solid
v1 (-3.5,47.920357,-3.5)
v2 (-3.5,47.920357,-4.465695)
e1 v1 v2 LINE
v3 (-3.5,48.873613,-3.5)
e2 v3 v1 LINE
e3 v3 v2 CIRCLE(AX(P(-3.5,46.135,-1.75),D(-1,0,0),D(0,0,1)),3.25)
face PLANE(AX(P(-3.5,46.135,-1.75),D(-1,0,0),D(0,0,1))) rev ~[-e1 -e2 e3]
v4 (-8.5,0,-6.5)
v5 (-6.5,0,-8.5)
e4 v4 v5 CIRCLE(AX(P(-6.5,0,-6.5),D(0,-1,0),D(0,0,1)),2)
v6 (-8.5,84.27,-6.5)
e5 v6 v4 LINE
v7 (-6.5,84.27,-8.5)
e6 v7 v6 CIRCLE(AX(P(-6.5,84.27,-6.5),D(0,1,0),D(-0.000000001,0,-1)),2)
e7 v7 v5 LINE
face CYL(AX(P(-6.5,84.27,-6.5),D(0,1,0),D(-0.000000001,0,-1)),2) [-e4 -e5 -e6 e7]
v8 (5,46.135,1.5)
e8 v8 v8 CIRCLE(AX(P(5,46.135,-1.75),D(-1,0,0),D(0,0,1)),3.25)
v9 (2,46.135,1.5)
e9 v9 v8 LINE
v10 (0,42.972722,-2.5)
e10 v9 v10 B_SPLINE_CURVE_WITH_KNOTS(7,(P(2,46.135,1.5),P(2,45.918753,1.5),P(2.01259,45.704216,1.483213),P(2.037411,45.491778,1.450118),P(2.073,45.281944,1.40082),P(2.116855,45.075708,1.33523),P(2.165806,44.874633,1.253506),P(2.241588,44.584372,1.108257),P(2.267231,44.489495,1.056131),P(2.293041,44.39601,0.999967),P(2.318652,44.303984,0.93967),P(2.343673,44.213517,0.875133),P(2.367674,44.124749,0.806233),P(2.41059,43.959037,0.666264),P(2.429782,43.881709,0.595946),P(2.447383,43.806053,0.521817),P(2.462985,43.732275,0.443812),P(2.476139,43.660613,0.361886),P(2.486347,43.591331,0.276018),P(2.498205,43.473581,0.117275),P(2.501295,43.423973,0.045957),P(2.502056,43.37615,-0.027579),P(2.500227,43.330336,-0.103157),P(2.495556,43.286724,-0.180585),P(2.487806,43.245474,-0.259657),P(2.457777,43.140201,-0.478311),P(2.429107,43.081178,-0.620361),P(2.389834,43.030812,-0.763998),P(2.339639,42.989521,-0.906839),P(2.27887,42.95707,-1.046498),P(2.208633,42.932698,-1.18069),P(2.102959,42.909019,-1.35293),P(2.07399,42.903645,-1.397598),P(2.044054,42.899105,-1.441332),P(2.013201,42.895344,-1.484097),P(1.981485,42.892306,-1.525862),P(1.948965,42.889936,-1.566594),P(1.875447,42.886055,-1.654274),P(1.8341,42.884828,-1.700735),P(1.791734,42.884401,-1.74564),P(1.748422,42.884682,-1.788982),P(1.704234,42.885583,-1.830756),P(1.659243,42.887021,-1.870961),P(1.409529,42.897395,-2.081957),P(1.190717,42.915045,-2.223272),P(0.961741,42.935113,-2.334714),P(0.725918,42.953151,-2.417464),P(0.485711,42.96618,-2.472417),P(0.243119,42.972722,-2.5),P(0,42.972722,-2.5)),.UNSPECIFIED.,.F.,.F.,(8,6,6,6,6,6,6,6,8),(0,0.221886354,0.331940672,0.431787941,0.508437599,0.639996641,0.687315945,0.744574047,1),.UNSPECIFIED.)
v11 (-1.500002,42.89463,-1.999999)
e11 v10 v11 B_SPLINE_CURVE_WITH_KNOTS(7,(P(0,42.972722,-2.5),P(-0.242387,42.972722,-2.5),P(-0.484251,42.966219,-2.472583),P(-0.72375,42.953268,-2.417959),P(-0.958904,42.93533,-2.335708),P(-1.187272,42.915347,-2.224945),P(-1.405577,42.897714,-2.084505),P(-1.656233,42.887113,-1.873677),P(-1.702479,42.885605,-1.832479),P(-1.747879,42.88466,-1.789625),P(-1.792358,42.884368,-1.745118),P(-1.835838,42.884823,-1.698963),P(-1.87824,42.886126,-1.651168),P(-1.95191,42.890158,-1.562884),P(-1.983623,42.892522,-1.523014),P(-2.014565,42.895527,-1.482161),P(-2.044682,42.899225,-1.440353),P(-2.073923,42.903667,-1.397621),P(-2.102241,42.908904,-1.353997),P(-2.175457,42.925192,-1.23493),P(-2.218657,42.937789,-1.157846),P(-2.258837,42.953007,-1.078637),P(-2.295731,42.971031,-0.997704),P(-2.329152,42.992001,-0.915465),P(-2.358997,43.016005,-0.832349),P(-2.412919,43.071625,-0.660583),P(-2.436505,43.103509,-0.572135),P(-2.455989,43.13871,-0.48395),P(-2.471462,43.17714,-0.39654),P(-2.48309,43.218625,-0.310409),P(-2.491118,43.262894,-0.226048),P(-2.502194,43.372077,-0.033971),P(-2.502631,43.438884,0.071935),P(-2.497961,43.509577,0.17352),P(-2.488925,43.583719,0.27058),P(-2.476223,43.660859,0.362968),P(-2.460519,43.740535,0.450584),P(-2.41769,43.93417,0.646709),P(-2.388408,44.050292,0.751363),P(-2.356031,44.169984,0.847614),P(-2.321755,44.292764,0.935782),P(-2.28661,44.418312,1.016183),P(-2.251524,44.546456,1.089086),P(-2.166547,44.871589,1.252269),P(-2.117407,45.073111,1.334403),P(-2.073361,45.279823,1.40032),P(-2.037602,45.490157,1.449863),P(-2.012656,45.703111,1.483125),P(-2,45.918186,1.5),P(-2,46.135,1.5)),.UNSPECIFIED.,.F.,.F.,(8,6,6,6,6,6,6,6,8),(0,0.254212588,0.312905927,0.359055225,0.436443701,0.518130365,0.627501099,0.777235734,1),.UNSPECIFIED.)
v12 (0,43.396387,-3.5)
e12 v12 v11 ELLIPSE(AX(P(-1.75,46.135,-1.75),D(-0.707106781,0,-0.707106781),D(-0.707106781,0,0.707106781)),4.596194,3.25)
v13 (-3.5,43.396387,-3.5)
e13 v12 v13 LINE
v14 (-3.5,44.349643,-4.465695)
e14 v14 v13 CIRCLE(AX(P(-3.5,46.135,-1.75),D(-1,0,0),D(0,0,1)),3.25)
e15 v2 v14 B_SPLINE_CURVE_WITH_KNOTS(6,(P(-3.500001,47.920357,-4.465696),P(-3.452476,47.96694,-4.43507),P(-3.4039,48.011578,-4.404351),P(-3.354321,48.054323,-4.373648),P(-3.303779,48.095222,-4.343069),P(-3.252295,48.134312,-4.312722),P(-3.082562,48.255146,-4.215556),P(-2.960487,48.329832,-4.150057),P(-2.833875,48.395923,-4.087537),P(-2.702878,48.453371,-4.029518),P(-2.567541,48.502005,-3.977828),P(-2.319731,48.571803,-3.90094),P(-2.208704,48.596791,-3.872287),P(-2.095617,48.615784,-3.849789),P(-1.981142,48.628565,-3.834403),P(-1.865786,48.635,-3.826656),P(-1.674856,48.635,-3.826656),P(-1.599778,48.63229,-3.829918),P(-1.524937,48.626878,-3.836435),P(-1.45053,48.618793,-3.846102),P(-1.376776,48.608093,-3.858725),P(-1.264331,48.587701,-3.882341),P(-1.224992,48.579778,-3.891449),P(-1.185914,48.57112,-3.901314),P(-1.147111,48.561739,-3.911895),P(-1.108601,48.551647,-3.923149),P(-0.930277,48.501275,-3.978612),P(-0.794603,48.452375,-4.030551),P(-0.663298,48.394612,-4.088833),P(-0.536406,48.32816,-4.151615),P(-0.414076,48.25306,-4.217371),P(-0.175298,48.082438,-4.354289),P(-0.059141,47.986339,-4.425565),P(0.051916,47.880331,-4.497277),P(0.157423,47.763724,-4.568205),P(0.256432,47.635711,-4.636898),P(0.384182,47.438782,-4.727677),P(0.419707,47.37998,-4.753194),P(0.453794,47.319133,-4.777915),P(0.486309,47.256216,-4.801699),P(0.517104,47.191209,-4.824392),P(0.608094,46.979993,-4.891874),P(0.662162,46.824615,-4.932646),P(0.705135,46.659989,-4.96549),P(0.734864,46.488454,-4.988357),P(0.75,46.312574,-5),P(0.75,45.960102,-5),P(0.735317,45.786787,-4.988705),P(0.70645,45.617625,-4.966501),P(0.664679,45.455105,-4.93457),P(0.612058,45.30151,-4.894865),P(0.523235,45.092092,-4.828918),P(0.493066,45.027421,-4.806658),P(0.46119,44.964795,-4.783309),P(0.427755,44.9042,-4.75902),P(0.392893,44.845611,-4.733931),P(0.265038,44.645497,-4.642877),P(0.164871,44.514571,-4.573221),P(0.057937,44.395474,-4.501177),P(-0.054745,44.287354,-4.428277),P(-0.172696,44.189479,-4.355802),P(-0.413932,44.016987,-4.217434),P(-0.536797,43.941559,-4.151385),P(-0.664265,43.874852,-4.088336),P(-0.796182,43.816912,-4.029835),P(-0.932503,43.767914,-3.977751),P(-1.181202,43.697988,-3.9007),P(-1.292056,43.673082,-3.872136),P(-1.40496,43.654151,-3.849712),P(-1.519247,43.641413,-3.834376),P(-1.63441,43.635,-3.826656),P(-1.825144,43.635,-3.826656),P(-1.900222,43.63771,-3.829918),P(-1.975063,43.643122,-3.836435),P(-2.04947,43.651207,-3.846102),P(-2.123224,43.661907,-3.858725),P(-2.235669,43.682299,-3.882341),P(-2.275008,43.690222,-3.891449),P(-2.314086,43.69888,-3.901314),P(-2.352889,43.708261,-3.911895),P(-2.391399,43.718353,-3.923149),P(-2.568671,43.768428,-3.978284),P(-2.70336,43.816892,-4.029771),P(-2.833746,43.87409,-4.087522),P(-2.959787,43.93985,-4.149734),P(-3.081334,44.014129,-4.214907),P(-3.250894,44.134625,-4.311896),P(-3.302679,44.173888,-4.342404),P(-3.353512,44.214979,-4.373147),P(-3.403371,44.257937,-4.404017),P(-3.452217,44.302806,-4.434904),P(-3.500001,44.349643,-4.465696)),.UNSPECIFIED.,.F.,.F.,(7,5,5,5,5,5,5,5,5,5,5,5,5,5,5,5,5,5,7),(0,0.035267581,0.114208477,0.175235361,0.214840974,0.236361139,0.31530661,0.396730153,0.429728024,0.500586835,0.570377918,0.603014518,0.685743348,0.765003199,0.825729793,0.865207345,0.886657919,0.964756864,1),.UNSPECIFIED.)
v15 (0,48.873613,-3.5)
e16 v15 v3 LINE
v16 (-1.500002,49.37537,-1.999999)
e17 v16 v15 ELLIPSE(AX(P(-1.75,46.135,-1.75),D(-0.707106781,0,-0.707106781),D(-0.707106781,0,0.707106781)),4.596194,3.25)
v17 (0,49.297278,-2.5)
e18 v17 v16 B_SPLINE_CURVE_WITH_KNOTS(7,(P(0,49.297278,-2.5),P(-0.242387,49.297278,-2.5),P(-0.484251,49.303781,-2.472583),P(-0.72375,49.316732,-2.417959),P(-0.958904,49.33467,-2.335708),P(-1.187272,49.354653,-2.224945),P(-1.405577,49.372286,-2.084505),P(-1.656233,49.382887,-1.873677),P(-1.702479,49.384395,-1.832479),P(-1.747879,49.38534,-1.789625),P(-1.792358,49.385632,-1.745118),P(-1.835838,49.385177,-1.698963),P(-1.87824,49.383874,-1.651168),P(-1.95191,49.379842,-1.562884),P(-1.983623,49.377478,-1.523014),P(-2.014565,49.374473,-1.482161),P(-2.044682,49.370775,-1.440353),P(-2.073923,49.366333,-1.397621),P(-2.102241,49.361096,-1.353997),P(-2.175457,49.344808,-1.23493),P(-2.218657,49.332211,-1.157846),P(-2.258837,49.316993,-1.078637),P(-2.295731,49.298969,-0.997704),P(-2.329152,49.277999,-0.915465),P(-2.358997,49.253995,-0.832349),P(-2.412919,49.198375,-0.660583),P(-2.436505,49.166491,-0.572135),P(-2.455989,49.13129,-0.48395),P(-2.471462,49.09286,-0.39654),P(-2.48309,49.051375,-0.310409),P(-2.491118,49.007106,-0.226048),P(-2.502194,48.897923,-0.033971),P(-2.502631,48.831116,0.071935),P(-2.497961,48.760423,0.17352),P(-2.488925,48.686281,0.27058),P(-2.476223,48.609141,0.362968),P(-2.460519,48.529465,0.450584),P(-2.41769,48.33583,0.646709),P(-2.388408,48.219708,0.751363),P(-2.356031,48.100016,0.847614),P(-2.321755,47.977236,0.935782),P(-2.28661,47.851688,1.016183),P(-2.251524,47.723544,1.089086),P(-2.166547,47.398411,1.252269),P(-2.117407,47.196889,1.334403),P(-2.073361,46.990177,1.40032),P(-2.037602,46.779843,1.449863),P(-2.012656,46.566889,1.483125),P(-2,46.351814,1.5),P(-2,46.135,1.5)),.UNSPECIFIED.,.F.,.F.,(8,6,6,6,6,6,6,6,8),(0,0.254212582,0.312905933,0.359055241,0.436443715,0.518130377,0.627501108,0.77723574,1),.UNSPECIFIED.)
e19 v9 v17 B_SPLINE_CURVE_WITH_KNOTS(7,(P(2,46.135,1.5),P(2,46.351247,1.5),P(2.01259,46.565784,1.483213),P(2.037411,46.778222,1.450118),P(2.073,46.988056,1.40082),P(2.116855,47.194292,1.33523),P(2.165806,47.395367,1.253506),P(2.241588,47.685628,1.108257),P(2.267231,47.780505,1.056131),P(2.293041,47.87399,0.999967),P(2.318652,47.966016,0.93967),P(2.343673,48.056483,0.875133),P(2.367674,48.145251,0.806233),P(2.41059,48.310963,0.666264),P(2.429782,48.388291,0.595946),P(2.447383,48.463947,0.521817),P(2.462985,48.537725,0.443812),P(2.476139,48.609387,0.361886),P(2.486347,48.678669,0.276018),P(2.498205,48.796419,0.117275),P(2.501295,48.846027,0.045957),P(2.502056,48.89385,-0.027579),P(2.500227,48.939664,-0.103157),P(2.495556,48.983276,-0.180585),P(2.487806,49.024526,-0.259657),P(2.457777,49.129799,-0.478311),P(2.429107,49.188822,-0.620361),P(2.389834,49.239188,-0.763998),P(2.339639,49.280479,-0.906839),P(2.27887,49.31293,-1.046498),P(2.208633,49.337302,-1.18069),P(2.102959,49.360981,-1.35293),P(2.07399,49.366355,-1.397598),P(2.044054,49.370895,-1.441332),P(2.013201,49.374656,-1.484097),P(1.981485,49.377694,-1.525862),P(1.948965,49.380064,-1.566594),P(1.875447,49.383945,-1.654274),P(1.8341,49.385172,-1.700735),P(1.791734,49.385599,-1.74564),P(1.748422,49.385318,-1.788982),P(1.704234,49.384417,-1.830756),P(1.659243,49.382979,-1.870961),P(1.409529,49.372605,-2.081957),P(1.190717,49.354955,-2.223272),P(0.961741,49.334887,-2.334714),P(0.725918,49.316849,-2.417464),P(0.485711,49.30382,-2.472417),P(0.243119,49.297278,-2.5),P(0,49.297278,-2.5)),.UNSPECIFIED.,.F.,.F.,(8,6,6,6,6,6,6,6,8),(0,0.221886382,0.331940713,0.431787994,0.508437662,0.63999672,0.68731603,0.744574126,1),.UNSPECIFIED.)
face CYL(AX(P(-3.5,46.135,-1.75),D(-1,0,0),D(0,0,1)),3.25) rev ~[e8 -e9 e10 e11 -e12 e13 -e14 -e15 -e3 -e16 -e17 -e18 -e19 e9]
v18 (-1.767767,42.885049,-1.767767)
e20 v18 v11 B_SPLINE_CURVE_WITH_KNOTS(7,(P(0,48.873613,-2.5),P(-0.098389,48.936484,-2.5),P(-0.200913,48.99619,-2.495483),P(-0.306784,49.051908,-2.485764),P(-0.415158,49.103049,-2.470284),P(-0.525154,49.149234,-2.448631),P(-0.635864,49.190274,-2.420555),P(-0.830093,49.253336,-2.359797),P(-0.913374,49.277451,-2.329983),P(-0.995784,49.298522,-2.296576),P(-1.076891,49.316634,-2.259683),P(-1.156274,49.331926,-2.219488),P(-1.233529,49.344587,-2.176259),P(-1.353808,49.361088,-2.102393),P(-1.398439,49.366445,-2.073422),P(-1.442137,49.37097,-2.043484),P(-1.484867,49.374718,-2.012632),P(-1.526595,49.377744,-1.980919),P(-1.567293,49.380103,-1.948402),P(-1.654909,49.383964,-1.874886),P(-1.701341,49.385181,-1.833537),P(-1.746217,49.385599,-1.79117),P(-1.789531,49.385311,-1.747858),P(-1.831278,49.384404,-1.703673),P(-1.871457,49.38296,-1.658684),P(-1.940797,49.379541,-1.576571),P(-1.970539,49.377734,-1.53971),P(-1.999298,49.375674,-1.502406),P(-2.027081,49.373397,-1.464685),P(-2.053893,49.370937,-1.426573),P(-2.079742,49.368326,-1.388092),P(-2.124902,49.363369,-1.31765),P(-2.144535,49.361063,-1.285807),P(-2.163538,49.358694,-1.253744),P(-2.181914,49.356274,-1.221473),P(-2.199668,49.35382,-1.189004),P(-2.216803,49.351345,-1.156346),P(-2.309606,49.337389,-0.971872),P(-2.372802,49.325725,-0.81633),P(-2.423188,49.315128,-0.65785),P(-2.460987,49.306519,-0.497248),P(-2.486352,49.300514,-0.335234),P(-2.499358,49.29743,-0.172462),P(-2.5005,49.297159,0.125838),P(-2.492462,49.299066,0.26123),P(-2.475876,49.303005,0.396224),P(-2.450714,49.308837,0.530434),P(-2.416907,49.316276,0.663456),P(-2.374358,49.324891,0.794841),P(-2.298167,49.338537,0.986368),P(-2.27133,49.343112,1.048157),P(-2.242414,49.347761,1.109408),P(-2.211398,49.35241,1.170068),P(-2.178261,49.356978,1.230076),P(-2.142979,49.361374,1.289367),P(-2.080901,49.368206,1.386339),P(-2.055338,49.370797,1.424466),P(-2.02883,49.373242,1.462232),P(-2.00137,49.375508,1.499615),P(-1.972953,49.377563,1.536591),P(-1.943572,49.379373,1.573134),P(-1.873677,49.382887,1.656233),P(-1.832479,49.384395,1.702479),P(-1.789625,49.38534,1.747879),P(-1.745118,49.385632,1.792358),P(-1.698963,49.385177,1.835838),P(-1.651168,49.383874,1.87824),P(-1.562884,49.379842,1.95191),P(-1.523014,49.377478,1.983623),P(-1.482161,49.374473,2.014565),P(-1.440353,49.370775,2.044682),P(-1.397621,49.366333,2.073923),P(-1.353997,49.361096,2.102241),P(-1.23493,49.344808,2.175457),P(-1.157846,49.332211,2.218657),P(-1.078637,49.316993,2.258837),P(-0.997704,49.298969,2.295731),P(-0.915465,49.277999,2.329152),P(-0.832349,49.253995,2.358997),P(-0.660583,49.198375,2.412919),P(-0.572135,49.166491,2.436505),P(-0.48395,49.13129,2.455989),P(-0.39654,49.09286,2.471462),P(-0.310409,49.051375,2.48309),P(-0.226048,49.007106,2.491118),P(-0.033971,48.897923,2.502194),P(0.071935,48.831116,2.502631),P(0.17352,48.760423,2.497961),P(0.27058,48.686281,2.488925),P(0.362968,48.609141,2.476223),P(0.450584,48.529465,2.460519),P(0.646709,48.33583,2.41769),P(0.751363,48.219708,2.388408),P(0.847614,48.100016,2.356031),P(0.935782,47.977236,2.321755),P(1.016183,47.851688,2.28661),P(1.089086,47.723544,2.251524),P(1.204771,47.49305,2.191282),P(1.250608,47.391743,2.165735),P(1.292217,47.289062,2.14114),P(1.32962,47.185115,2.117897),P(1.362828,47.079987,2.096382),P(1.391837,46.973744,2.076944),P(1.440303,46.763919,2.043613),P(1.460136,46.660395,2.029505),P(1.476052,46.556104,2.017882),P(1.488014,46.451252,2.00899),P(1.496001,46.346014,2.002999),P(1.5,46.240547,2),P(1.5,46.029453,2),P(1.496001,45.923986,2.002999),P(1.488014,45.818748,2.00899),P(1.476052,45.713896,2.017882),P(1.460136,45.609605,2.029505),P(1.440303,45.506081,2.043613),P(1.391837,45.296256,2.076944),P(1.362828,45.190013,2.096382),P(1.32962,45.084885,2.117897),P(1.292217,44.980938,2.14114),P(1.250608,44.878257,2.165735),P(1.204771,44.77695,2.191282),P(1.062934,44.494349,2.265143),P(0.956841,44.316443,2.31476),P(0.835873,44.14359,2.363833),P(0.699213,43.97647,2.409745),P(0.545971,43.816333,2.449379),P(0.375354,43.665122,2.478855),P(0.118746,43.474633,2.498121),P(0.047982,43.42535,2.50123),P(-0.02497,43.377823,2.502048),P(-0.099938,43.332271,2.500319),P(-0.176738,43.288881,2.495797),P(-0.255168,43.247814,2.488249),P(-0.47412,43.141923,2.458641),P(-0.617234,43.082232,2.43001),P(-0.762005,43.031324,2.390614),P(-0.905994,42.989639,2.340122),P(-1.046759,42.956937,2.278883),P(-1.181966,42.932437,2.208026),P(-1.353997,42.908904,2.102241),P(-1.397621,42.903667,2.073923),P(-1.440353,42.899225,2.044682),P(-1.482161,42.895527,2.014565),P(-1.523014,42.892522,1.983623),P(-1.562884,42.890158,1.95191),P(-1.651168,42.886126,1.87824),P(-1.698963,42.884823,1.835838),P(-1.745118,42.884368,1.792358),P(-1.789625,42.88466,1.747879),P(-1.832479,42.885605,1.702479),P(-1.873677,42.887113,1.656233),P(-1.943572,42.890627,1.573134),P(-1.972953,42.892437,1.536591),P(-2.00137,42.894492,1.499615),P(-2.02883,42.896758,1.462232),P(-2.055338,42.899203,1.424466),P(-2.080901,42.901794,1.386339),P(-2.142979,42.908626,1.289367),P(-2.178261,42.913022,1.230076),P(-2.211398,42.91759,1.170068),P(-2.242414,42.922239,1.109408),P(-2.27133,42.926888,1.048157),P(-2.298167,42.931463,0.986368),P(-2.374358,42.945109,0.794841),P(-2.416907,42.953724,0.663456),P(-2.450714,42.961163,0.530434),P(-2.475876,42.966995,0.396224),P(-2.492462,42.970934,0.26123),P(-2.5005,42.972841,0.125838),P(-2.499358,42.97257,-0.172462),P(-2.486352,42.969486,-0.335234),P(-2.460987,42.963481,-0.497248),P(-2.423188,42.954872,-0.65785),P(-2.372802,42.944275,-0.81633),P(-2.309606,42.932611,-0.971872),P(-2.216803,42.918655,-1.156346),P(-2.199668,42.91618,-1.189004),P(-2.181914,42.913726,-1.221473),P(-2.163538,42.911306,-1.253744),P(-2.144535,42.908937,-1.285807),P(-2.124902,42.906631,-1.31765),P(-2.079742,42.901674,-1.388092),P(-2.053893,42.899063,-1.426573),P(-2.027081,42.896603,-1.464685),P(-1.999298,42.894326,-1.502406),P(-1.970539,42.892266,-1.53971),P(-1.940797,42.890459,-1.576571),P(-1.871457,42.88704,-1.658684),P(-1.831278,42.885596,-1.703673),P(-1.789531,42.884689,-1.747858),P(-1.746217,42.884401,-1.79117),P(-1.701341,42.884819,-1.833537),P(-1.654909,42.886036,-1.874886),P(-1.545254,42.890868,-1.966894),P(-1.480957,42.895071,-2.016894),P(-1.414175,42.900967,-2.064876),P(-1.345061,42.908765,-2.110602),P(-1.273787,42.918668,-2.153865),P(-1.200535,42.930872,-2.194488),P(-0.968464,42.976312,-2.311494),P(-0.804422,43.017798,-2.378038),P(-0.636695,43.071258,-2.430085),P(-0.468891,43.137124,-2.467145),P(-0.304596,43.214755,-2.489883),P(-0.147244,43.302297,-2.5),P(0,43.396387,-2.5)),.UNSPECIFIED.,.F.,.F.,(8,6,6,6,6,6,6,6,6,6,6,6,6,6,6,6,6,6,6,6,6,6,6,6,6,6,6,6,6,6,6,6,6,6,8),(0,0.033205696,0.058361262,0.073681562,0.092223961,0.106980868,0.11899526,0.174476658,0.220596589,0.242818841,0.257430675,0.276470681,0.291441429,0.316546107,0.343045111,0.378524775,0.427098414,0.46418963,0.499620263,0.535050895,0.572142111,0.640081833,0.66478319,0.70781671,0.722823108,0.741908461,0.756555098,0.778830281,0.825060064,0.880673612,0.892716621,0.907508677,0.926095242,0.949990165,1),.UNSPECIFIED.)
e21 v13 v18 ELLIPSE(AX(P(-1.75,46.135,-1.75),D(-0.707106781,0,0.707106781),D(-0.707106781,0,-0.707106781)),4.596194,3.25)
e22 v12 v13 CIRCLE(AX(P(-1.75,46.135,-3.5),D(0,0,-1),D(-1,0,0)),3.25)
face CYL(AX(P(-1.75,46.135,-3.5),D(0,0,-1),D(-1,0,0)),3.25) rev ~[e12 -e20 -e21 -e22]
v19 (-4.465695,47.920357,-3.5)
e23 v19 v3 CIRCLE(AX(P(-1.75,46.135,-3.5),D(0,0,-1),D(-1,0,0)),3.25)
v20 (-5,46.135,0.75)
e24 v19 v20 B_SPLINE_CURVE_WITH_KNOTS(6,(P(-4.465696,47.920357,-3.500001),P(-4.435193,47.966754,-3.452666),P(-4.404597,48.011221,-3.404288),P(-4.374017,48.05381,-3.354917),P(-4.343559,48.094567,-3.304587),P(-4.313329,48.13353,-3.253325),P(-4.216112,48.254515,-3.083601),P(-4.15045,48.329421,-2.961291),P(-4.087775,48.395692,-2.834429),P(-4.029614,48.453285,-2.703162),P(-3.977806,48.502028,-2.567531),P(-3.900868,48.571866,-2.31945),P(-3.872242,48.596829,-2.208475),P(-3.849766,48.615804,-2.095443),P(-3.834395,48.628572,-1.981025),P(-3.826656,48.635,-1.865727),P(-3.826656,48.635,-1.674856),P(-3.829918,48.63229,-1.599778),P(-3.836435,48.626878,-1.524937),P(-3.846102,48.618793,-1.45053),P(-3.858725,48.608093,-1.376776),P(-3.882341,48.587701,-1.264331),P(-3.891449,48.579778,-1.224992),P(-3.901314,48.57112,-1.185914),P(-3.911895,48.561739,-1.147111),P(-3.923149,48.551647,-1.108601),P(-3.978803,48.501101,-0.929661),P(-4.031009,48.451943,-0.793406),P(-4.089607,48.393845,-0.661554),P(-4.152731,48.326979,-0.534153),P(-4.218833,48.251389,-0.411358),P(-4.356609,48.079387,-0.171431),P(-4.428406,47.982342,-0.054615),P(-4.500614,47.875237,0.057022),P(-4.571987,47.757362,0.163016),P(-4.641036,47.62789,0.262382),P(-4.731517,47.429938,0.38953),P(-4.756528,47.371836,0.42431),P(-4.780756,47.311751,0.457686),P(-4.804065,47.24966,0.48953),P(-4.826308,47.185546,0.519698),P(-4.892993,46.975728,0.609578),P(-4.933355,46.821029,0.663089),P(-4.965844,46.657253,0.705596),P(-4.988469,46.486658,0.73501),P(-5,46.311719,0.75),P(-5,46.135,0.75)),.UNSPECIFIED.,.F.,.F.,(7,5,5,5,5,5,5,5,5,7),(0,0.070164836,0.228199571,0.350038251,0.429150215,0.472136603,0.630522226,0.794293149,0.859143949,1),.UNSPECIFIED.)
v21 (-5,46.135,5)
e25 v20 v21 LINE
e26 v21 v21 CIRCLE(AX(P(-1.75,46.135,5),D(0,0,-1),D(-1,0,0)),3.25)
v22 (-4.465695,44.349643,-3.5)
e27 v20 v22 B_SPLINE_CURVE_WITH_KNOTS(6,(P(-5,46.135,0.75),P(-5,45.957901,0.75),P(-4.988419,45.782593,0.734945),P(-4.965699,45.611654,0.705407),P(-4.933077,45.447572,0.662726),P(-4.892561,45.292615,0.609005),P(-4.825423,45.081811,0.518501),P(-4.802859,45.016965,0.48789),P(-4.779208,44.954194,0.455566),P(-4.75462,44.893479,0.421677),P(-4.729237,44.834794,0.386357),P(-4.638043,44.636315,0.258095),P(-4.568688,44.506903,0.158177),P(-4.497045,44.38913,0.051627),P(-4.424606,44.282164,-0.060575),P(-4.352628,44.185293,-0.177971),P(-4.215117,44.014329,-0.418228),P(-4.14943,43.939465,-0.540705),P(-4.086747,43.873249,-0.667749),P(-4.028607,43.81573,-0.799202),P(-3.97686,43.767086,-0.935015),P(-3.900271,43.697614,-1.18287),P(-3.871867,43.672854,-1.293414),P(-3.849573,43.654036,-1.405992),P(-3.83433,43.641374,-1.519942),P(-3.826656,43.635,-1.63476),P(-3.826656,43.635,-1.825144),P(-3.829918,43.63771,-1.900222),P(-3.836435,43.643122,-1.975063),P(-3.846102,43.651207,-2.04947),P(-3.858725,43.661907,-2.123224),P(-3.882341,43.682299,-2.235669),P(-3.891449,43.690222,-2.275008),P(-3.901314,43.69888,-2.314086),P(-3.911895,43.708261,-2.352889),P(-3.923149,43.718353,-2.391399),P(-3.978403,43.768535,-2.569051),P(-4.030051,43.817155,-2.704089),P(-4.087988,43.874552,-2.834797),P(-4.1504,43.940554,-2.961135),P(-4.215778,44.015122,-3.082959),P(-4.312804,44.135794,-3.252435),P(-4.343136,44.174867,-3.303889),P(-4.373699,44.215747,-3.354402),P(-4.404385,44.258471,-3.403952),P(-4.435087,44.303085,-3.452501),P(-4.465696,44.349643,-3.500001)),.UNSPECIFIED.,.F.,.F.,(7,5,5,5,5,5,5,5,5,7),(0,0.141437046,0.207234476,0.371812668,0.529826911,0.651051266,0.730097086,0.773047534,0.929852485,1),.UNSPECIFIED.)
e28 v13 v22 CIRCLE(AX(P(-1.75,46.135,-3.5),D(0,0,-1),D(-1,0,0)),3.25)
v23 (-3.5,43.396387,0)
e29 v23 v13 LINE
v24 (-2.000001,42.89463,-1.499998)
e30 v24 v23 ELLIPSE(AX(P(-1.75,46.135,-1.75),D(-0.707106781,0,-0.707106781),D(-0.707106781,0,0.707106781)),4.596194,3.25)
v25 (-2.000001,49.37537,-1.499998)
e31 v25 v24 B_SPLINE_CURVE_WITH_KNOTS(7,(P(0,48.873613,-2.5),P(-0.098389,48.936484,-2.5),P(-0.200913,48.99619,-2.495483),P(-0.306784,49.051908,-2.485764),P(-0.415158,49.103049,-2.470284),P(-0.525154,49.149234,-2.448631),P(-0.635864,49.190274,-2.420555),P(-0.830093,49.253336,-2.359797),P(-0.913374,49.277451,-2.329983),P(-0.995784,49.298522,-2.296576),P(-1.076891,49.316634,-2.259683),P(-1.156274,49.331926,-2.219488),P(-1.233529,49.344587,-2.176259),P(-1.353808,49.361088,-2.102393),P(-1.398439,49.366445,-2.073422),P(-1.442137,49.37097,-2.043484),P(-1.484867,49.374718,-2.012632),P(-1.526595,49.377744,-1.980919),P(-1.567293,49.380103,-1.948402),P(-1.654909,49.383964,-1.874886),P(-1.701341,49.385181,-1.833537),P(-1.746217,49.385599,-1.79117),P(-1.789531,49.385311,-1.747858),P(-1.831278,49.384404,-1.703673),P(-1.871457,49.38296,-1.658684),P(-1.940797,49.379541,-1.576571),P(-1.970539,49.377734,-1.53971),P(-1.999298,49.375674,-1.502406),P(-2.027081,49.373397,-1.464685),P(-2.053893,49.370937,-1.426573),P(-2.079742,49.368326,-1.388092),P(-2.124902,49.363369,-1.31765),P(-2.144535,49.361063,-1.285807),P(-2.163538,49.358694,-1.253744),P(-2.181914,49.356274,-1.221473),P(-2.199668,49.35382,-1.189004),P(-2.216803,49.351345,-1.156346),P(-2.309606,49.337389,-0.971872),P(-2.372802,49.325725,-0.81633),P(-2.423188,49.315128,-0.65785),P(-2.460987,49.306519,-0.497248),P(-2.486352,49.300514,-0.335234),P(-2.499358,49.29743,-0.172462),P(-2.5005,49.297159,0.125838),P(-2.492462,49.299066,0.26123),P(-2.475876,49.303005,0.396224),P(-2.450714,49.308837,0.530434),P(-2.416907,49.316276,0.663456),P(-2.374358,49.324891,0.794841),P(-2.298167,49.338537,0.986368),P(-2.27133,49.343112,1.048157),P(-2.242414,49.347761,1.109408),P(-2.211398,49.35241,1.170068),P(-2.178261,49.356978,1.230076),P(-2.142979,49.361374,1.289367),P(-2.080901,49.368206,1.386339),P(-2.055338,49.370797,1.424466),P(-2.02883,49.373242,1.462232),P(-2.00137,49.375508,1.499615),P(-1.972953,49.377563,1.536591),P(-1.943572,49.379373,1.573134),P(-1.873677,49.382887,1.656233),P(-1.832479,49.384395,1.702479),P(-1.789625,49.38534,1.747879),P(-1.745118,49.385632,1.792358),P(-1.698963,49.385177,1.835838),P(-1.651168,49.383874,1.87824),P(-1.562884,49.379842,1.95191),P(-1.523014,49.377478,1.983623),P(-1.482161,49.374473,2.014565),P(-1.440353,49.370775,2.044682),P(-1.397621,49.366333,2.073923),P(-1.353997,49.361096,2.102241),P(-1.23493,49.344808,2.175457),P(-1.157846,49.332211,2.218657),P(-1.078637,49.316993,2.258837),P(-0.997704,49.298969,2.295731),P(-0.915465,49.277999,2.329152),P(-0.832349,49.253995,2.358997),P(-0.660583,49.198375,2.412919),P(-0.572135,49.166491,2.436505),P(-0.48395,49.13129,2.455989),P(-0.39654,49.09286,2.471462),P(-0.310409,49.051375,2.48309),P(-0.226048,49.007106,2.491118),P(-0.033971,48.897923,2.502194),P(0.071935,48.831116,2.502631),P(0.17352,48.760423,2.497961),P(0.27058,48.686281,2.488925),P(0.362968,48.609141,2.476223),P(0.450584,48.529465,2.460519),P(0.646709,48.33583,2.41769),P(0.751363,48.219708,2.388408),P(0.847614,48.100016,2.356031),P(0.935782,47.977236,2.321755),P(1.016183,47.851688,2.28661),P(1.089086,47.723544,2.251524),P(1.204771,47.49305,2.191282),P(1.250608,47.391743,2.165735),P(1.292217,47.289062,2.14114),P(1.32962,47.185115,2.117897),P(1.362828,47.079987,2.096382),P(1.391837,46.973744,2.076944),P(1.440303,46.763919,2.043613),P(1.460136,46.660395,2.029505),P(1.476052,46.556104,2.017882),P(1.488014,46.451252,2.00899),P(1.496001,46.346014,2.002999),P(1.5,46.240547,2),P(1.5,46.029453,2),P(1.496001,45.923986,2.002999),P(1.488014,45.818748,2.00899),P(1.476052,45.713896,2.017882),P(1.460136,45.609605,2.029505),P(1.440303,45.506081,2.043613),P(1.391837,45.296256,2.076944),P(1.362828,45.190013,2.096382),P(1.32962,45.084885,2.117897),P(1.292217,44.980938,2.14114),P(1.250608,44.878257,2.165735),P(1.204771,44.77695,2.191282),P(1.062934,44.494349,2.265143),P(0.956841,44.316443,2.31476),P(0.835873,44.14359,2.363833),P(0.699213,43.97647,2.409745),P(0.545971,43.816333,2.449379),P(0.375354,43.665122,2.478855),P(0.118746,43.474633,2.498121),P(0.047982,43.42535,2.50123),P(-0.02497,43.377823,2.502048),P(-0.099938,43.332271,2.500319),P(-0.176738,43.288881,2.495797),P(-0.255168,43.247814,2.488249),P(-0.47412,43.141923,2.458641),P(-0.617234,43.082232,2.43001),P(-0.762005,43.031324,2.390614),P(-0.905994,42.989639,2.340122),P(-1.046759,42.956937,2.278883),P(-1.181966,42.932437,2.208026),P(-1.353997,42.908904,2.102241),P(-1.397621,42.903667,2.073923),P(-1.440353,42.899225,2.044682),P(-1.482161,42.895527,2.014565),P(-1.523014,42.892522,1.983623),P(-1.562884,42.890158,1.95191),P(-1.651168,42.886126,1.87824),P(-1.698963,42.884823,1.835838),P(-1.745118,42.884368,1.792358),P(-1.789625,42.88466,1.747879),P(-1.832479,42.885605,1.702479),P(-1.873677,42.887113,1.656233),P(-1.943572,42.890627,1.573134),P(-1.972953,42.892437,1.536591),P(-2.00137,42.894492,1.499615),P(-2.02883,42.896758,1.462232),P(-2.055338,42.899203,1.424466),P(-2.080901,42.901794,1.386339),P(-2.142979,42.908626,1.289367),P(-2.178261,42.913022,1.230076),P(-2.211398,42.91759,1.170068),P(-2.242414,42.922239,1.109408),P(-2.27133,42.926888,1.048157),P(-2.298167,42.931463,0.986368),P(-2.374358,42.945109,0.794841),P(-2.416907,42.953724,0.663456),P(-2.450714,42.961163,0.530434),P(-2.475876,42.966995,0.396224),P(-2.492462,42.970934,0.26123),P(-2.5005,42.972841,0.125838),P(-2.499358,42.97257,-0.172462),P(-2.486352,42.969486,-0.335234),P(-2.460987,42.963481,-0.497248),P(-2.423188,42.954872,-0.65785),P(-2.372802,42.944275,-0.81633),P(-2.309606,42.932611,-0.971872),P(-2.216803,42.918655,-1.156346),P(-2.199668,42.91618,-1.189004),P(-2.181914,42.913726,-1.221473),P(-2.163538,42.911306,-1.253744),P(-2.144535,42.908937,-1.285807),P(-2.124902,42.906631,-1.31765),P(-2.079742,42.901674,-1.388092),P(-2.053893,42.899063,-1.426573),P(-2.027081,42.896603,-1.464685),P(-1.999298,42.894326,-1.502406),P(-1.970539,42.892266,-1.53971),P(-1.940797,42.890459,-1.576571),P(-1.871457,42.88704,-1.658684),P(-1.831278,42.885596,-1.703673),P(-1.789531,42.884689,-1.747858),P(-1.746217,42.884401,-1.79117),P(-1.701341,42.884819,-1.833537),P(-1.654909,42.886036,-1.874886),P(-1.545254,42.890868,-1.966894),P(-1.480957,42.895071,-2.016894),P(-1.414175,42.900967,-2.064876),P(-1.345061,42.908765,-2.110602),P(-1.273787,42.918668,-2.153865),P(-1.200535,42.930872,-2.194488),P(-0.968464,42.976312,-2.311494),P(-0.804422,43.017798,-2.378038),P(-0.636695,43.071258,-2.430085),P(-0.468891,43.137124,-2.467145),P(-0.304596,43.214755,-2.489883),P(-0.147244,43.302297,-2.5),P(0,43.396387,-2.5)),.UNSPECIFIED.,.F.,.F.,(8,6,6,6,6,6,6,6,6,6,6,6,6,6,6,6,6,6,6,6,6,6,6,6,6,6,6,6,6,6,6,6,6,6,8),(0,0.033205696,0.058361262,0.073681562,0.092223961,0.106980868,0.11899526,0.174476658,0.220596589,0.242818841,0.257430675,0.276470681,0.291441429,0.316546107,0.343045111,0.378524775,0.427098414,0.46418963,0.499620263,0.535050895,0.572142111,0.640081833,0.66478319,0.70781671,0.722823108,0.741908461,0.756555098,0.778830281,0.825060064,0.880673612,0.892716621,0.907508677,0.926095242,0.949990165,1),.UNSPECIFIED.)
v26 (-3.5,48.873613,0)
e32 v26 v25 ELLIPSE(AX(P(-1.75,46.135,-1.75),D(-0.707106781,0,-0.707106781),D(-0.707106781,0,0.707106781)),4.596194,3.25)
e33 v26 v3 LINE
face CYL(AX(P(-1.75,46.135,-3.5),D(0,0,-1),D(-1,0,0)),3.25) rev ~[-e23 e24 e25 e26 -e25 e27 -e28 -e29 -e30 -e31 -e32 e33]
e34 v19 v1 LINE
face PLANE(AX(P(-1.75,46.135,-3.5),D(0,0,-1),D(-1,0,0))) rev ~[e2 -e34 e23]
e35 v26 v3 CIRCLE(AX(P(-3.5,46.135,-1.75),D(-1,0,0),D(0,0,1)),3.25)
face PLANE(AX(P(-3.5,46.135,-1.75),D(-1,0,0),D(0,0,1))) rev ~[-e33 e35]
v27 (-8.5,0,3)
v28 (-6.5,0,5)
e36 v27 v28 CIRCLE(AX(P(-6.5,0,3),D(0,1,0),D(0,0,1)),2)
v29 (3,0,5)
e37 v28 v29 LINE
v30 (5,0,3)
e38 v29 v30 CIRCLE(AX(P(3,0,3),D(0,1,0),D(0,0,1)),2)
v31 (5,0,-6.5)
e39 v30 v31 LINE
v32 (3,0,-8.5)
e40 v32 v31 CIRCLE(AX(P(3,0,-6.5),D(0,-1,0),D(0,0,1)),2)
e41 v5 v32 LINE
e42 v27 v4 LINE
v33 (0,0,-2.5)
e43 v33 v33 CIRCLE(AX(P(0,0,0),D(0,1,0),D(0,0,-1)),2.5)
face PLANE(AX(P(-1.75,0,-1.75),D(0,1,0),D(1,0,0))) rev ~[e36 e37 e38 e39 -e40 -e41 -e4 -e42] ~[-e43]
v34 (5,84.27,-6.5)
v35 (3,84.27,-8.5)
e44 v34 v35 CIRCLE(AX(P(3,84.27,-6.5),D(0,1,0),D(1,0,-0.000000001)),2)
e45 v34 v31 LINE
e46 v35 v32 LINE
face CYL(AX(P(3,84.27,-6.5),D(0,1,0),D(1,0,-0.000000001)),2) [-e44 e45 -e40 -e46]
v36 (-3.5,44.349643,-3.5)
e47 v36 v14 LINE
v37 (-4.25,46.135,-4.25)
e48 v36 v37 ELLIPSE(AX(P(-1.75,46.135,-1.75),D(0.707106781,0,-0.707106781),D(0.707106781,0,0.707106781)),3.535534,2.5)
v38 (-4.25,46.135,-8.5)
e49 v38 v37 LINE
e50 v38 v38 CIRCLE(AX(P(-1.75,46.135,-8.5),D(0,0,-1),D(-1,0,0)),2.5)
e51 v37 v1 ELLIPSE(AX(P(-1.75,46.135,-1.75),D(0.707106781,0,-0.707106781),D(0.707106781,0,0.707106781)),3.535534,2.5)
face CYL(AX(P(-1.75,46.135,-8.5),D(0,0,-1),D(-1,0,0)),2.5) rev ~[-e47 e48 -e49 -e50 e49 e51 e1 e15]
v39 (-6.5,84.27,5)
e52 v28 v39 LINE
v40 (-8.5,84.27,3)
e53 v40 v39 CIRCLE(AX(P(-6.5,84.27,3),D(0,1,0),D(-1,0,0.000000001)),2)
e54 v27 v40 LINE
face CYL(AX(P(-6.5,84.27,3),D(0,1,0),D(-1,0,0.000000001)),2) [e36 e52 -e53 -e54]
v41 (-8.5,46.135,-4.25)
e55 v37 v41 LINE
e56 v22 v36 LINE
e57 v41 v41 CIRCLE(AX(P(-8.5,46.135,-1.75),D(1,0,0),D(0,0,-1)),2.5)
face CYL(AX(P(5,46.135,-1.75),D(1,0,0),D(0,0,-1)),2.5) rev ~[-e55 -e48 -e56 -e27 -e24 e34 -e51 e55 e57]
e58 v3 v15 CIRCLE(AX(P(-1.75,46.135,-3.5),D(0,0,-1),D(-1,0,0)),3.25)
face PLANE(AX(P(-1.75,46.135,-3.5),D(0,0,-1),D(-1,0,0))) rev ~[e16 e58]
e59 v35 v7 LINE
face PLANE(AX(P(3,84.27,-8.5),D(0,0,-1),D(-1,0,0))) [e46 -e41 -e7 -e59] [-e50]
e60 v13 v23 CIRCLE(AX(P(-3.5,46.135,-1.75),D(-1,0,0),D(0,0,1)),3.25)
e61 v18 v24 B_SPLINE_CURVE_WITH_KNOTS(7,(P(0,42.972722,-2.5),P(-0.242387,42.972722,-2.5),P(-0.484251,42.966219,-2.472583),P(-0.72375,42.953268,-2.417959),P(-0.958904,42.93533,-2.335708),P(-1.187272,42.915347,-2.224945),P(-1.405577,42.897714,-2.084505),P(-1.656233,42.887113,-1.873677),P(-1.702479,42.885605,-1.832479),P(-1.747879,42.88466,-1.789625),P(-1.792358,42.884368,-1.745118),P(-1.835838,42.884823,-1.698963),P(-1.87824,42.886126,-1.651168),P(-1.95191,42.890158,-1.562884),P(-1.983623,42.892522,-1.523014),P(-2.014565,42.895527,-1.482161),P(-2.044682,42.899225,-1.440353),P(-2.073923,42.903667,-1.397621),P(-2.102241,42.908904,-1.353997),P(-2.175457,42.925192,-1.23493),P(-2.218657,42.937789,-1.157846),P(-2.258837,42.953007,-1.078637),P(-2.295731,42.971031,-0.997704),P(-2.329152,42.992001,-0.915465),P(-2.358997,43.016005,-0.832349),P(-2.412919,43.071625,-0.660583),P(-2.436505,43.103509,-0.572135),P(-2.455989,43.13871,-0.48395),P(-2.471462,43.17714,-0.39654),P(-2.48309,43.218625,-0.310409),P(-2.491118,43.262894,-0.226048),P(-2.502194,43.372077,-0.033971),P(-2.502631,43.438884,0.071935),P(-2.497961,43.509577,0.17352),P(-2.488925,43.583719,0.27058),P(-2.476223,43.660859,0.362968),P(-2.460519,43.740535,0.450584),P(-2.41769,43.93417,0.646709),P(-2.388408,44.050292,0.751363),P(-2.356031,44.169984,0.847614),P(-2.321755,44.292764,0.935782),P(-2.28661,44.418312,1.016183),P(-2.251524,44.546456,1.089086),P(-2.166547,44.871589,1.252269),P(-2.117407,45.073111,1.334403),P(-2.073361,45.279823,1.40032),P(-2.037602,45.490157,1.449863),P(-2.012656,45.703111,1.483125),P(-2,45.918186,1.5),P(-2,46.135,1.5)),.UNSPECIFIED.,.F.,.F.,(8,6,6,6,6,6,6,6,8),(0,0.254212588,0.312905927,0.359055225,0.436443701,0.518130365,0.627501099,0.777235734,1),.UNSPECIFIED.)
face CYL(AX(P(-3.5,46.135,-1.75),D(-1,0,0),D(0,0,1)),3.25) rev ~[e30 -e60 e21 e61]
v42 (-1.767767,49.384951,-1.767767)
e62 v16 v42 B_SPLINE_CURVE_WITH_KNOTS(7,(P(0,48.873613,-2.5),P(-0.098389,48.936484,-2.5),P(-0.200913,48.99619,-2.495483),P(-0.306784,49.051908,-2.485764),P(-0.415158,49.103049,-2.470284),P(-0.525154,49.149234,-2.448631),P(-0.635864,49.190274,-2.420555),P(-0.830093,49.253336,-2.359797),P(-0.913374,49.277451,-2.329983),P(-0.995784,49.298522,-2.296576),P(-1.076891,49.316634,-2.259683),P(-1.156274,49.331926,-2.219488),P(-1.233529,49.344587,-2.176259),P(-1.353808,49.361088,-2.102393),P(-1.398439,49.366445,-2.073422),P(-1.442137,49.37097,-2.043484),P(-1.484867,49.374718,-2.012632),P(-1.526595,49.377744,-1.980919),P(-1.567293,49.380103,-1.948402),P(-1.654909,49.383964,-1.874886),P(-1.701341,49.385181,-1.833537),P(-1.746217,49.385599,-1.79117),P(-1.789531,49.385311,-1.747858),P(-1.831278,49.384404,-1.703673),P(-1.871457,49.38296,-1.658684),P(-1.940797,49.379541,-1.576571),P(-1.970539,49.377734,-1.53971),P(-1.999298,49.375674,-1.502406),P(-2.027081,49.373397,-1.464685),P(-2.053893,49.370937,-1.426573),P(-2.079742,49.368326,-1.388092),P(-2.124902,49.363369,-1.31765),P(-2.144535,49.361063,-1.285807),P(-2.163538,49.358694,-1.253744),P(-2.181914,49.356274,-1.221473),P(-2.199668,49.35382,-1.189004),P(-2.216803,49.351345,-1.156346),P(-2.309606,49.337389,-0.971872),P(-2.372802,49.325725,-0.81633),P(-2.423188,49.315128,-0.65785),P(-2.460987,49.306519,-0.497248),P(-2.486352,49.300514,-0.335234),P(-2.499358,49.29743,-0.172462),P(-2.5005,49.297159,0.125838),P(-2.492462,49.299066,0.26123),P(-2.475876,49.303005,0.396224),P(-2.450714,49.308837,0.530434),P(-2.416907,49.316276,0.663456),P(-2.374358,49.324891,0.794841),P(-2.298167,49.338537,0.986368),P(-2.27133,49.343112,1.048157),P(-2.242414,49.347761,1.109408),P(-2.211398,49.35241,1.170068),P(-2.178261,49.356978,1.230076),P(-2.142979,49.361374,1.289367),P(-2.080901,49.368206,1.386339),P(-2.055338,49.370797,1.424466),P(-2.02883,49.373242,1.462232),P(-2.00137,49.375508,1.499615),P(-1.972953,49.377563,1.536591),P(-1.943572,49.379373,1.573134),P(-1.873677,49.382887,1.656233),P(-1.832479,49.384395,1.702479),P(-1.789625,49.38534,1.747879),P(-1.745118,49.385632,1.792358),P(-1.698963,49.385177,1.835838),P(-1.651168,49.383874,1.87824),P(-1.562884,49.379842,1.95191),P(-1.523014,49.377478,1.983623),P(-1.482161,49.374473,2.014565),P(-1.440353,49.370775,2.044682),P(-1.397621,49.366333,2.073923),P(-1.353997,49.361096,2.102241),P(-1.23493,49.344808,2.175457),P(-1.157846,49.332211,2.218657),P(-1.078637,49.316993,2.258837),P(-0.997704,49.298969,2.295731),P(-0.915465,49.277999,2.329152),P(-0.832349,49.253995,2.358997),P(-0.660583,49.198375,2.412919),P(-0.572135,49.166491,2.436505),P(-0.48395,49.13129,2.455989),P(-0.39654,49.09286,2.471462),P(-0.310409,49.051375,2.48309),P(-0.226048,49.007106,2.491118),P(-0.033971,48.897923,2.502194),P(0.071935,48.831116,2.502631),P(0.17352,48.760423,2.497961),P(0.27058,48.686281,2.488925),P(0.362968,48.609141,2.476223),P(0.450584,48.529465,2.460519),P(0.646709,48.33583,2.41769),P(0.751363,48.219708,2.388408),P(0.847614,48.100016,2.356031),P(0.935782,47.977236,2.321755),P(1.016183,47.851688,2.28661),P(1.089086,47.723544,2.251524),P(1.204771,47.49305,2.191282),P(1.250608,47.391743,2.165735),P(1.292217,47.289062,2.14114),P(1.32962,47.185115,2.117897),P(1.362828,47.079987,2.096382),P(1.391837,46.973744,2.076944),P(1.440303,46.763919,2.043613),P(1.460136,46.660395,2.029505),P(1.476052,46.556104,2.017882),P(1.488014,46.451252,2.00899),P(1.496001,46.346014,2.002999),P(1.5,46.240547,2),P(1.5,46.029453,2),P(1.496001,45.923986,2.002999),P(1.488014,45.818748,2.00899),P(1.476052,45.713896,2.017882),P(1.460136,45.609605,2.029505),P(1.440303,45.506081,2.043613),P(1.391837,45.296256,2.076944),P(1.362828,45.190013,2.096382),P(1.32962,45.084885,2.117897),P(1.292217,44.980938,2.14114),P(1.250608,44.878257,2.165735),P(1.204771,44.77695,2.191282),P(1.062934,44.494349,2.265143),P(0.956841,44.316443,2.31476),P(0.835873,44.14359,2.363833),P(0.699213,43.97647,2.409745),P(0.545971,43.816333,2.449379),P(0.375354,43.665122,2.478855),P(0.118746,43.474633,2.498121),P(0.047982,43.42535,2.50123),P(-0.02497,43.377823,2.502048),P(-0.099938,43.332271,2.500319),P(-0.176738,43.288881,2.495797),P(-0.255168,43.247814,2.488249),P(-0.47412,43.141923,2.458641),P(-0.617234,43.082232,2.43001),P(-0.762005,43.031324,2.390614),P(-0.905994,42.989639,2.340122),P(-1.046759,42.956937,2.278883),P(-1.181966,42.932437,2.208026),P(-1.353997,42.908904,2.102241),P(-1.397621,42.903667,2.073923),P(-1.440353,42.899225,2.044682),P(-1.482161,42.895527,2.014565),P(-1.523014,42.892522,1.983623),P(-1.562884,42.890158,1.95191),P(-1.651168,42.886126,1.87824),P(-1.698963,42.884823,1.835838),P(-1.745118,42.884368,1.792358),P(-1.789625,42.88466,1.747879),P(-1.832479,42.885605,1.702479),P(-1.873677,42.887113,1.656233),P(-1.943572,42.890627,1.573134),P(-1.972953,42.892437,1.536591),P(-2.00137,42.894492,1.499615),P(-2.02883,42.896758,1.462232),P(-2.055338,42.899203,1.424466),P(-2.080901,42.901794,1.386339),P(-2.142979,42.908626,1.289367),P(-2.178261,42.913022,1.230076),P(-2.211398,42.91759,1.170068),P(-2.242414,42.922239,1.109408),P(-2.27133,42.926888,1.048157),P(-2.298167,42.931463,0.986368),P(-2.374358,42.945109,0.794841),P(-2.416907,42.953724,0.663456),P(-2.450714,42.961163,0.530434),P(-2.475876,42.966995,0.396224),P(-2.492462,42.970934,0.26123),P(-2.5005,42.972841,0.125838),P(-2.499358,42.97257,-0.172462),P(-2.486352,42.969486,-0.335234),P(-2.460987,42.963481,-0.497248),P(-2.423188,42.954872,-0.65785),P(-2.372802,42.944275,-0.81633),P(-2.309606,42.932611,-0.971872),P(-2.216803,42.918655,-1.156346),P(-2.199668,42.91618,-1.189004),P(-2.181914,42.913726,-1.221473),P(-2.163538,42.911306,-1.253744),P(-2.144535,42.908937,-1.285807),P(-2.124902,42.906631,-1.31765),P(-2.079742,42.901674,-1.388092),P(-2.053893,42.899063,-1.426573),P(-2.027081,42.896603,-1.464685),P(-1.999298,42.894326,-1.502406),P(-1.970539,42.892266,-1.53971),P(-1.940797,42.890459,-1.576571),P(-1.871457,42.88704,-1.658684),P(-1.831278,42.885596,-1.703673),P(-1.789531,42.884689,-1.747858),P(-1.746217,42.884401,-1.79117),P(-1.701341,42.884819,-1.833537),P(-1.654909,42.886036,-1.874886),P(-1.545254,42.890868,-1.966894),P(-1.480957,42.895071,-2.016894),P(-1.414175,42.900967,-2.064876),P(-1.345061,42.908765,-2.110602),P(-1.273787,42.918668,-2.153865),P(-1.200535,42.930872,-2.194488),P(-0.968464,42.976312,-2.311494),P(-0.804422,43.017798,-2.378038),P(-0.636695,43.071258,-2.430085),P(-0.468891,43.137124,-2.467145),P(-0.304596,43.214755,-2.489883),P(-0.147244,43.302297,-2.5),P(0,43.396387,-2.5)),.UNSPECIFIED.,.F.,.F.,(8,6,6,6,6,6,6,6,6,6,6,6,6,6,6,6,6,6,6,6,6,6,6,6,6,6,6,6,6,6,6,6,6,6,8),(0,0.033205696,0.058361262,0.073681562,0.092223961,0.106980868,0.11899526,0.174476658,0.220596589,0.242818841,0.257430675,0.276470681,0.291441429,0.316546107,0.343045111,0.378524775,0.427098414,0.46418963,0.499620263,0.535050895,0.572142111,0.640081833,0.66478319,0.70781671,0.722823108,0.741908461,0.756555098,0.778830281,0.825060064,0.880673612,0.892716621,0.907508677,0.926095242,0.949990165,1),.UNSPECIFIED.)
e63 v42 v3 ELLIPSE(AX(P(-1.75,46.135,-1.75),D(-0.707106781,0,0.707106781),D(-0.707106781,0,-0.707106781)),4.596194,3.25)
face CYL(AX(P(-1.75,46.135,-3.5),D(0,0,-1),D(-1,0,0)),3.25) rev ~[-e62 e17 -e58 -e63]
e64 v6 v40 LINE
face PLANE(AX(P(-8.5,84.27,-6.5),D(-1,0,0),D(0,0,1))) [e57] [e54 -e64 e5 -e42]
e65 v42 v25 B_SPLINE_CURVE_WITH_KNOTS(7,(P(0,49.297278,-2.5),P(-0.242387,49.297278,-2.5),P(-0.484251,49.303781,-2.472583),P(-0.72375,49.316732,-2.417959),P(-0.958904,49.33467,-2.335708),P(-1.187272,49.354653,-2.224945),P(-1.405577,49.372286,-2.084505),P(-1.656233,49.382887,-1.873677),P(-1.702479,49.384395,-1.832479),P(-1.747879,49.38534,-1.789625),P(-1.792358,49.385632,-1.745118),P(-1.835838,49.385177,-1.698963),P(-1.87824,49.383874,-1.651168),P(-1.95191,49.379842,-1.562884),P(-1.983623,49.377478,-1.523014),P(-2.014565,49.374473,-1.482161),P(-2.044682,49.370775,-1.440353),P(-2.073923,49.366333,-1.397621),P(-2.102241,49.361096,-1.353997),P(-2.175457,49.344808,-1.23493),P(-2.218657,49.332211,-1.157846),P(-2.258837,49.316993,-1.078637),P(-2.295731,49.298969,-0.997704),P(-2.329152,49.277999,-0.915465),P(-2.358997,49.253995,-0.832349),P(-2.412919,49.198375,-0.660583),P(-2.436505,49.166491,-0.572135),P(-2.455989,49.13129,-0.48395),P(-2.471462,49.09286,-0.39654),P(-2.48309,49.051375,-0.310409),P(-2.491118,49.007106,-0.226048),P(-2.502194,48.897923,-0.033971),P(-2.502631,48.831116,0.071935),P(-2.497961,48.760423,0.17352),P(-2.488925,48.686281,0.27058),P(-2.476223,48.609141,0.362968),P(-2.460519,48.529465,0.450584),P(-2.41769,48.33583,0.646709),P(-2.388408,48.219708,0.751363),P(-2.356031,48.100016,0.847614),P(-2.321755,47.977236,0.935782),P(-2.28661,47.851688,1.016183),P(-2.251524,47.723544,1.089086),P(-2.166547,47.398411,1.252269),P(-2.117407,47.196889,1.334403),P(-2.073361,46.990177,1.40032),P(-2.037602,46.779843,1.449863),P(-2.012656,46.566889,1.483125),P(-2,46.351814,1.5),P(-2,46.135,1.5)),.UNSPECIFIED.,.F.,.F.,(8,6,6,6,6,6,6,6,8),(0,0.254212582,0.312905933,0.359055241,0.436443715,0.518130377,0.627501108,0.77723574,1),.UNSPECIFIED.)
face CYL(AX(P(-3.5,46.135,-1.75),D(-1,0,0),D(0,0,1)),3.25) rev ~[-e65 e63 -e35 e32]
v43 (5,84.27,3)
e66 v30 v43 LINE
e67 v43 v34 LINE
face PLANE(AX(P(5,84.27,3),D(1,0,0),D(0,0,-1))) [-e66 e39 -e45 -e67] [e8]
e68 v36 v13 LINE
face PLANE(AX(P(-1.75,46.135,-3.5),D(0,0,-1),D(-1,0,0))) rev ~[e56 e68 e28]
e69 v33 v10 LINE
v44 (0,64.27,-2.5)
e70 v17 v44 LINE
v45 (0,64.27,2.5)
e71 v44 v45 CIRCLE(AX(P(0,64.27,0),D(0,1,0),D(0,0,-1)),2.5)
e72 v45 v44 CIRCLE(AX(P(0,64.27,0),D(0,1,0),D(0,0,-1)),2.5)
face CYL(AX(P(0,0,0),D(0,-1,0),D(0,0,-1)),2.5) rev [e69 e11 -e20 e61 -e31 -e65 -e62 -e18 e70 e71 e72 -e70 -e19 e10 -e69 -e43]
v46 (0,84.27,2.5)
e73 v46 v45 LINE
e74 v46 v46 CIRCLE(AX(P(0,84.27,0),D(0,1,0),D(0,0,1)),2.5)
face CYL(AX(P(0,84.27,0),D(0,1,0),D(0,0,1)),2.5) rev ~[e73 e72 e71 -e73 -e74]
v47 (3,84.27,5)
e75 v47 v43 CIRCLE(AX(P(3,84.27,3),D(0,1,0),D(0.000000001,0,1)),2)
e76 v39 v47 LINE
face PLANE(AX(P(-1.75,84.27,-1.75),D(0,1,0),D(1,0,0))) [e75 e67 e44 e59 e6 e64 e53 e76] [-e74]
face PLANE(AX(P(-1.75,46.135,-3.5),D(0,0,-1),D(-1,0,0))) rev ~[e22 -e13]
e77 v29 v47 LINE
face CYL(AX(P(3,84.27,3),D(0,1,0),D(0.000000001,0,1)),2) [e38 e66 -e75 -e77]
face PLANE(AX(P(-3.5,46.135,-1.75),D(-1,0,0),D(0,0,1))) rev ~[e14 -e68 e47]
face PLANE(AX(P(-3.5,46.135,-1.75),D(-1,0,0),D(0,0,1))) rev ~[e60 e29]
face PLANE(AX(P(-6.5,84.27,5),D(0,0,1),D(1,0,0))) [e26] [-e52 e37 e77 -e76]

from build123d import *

# Parameters (mm, degrees)
SKETCH4_W           = 13.5
SKETCH4_H           = 13.5
SKETCH4_R           = 2.5
HOLE_TOPMAIN_DEPTH  = 64.27
SKETCH12_R          = 2.5
HOLE_SIDE1_DEPTH    = 67.220336
SKETCH13_R          = 3.25
HOLE_SIDE2_DEPTH    = 66.384500568
SKETCH14_R          = 2.5
CUT_EXTRUDE9_DEPTH  = 67.220336097
SKETCH15_R          = 3.25
CUT_EXTRUDE10_DEPTH = 66.384500581
FILLET3_R           = 2
BOSS_EXTRUDE2_START = 20
SKETCH17_R          = 2.5
BOSS_EXTRUDE2_DEPTH = 20


with BuildPart() as part:
    # Sketch4 → hole-TopMain (new body)
    with BuildSketch(Plane(origin=(0, 0, 0), x_dir=(1, 0, 0), z_dir=(0, 1, 0))):
        with Locations((-1.75, 1.75)):
            Rectangle(SKETCH4_W, SKETCH4_H)
        with Locations(Location((0, 0, 0), (0, 0, 90))):
            Circle(SKETCH4_R, mode=Mode.SUBTRACT)
    extrude(amount=HOLE_TOPMAIN_DEPTH)

    # Sketch12 → hole-Side1 (cut, through all)
    with BuildSketch(Plane(origin=(5, 0, 0), x_dir=(0, 0, -1), z_dir=(1, 0, 0))):
        with Locations((1.75, 46.135)):
            Circle(SKETCH12_R)
    extrude(amount=-HOLE_SIDE1_DEPTH, mode=Mode.SUBTRACT)

    # Sketch13 → hole-Side2 (cut, through all)
    with BuildSketch(Plane.ZY.offset(3.5)):
        with Locations((-1.75, 46.135)):
            Circle(SKETCH13_R)
    extrude(amount=-HOLE_SIDE2_DEPTH, mode=Mode.SUBTRACT)

    # Sketch14 → Cut-Extrude9 (cut, through all)
    with BuildSketch(Plane(origin=(0, 0, -8.5), x_dir=(-1, 0, 0), z_dir=(0, 0, -1))):
        with Locations((1.75, 46.135)):
            Circle(SKETCH14_R)
    extrude(amount=-CUT_EXTRUDE9_DEPTH, mode=Mode.SUBTRACT)

    # Sketch15 → Cut-Extrude10 (cut, through all)
    with BuildSketch(Plane(origin=(0, 0, -3.5), x_dir=(-1, 0, 0), z_dir=(0, 0, -1))):
        with Locations((1.75, 46.135)):
            Circle(SKETCH15_R)
    extrude(amount=-CUT_EXTRUDE10_DEPTH, mode=Mode.SUBTRACT)

    # Fillet3
    fillet3_edges = [part.edges().sort_by_distance(p)[0] for p in [
        (-8.5, 32.135, -8.5),
        (-8.5, 32.135, 5),
        (5, 32.135, 5),
        (5, 32.135, -8.5),
    ]]
    fillet(fillet3_edges, radius=FILLET3_R)

    # Sketch17 → Boss-Extrude2 (add)
    with BuildSketch(Plane(origin=(0, 64.27, 0), x_dir=(1, 0, 0), z_dir=(0, 1, 0)).offset(BOSS_EXTRUDE2_START)):
        with BuildLine():
            Line((-8.5, 6.5), (-8.5, -3))
            ThreePointArc((-8.5, -3), (-7.914213562, -4.414213562), (-6.5, -5))
            Line((-6.5, -5), (3, -5))
            ThreePointArc((3, -5), (4.414213562, -4.414213562), (5, -3))
            Line((5, -3), (5, 6.5))
            ThreePointArc((5, 6.5), (4.414213562, 7.914213562), (3, 8.5))
            Line((3, 8.5), (-6.5, 8.5))
            ThreePointArc((-6.5, 8.5), (-7.914213562, 7.914213562), (-8.5, 6.5))
        make_face()
        with Locations(Location((0, 0, 0), (0, 0, 270))):
            Circle(SKETCH17_R, mode=Mode.SUBTRACT)
    extrude(amount=-BOSS_EXTRUDE2_DEPTH)


solid = part.part
